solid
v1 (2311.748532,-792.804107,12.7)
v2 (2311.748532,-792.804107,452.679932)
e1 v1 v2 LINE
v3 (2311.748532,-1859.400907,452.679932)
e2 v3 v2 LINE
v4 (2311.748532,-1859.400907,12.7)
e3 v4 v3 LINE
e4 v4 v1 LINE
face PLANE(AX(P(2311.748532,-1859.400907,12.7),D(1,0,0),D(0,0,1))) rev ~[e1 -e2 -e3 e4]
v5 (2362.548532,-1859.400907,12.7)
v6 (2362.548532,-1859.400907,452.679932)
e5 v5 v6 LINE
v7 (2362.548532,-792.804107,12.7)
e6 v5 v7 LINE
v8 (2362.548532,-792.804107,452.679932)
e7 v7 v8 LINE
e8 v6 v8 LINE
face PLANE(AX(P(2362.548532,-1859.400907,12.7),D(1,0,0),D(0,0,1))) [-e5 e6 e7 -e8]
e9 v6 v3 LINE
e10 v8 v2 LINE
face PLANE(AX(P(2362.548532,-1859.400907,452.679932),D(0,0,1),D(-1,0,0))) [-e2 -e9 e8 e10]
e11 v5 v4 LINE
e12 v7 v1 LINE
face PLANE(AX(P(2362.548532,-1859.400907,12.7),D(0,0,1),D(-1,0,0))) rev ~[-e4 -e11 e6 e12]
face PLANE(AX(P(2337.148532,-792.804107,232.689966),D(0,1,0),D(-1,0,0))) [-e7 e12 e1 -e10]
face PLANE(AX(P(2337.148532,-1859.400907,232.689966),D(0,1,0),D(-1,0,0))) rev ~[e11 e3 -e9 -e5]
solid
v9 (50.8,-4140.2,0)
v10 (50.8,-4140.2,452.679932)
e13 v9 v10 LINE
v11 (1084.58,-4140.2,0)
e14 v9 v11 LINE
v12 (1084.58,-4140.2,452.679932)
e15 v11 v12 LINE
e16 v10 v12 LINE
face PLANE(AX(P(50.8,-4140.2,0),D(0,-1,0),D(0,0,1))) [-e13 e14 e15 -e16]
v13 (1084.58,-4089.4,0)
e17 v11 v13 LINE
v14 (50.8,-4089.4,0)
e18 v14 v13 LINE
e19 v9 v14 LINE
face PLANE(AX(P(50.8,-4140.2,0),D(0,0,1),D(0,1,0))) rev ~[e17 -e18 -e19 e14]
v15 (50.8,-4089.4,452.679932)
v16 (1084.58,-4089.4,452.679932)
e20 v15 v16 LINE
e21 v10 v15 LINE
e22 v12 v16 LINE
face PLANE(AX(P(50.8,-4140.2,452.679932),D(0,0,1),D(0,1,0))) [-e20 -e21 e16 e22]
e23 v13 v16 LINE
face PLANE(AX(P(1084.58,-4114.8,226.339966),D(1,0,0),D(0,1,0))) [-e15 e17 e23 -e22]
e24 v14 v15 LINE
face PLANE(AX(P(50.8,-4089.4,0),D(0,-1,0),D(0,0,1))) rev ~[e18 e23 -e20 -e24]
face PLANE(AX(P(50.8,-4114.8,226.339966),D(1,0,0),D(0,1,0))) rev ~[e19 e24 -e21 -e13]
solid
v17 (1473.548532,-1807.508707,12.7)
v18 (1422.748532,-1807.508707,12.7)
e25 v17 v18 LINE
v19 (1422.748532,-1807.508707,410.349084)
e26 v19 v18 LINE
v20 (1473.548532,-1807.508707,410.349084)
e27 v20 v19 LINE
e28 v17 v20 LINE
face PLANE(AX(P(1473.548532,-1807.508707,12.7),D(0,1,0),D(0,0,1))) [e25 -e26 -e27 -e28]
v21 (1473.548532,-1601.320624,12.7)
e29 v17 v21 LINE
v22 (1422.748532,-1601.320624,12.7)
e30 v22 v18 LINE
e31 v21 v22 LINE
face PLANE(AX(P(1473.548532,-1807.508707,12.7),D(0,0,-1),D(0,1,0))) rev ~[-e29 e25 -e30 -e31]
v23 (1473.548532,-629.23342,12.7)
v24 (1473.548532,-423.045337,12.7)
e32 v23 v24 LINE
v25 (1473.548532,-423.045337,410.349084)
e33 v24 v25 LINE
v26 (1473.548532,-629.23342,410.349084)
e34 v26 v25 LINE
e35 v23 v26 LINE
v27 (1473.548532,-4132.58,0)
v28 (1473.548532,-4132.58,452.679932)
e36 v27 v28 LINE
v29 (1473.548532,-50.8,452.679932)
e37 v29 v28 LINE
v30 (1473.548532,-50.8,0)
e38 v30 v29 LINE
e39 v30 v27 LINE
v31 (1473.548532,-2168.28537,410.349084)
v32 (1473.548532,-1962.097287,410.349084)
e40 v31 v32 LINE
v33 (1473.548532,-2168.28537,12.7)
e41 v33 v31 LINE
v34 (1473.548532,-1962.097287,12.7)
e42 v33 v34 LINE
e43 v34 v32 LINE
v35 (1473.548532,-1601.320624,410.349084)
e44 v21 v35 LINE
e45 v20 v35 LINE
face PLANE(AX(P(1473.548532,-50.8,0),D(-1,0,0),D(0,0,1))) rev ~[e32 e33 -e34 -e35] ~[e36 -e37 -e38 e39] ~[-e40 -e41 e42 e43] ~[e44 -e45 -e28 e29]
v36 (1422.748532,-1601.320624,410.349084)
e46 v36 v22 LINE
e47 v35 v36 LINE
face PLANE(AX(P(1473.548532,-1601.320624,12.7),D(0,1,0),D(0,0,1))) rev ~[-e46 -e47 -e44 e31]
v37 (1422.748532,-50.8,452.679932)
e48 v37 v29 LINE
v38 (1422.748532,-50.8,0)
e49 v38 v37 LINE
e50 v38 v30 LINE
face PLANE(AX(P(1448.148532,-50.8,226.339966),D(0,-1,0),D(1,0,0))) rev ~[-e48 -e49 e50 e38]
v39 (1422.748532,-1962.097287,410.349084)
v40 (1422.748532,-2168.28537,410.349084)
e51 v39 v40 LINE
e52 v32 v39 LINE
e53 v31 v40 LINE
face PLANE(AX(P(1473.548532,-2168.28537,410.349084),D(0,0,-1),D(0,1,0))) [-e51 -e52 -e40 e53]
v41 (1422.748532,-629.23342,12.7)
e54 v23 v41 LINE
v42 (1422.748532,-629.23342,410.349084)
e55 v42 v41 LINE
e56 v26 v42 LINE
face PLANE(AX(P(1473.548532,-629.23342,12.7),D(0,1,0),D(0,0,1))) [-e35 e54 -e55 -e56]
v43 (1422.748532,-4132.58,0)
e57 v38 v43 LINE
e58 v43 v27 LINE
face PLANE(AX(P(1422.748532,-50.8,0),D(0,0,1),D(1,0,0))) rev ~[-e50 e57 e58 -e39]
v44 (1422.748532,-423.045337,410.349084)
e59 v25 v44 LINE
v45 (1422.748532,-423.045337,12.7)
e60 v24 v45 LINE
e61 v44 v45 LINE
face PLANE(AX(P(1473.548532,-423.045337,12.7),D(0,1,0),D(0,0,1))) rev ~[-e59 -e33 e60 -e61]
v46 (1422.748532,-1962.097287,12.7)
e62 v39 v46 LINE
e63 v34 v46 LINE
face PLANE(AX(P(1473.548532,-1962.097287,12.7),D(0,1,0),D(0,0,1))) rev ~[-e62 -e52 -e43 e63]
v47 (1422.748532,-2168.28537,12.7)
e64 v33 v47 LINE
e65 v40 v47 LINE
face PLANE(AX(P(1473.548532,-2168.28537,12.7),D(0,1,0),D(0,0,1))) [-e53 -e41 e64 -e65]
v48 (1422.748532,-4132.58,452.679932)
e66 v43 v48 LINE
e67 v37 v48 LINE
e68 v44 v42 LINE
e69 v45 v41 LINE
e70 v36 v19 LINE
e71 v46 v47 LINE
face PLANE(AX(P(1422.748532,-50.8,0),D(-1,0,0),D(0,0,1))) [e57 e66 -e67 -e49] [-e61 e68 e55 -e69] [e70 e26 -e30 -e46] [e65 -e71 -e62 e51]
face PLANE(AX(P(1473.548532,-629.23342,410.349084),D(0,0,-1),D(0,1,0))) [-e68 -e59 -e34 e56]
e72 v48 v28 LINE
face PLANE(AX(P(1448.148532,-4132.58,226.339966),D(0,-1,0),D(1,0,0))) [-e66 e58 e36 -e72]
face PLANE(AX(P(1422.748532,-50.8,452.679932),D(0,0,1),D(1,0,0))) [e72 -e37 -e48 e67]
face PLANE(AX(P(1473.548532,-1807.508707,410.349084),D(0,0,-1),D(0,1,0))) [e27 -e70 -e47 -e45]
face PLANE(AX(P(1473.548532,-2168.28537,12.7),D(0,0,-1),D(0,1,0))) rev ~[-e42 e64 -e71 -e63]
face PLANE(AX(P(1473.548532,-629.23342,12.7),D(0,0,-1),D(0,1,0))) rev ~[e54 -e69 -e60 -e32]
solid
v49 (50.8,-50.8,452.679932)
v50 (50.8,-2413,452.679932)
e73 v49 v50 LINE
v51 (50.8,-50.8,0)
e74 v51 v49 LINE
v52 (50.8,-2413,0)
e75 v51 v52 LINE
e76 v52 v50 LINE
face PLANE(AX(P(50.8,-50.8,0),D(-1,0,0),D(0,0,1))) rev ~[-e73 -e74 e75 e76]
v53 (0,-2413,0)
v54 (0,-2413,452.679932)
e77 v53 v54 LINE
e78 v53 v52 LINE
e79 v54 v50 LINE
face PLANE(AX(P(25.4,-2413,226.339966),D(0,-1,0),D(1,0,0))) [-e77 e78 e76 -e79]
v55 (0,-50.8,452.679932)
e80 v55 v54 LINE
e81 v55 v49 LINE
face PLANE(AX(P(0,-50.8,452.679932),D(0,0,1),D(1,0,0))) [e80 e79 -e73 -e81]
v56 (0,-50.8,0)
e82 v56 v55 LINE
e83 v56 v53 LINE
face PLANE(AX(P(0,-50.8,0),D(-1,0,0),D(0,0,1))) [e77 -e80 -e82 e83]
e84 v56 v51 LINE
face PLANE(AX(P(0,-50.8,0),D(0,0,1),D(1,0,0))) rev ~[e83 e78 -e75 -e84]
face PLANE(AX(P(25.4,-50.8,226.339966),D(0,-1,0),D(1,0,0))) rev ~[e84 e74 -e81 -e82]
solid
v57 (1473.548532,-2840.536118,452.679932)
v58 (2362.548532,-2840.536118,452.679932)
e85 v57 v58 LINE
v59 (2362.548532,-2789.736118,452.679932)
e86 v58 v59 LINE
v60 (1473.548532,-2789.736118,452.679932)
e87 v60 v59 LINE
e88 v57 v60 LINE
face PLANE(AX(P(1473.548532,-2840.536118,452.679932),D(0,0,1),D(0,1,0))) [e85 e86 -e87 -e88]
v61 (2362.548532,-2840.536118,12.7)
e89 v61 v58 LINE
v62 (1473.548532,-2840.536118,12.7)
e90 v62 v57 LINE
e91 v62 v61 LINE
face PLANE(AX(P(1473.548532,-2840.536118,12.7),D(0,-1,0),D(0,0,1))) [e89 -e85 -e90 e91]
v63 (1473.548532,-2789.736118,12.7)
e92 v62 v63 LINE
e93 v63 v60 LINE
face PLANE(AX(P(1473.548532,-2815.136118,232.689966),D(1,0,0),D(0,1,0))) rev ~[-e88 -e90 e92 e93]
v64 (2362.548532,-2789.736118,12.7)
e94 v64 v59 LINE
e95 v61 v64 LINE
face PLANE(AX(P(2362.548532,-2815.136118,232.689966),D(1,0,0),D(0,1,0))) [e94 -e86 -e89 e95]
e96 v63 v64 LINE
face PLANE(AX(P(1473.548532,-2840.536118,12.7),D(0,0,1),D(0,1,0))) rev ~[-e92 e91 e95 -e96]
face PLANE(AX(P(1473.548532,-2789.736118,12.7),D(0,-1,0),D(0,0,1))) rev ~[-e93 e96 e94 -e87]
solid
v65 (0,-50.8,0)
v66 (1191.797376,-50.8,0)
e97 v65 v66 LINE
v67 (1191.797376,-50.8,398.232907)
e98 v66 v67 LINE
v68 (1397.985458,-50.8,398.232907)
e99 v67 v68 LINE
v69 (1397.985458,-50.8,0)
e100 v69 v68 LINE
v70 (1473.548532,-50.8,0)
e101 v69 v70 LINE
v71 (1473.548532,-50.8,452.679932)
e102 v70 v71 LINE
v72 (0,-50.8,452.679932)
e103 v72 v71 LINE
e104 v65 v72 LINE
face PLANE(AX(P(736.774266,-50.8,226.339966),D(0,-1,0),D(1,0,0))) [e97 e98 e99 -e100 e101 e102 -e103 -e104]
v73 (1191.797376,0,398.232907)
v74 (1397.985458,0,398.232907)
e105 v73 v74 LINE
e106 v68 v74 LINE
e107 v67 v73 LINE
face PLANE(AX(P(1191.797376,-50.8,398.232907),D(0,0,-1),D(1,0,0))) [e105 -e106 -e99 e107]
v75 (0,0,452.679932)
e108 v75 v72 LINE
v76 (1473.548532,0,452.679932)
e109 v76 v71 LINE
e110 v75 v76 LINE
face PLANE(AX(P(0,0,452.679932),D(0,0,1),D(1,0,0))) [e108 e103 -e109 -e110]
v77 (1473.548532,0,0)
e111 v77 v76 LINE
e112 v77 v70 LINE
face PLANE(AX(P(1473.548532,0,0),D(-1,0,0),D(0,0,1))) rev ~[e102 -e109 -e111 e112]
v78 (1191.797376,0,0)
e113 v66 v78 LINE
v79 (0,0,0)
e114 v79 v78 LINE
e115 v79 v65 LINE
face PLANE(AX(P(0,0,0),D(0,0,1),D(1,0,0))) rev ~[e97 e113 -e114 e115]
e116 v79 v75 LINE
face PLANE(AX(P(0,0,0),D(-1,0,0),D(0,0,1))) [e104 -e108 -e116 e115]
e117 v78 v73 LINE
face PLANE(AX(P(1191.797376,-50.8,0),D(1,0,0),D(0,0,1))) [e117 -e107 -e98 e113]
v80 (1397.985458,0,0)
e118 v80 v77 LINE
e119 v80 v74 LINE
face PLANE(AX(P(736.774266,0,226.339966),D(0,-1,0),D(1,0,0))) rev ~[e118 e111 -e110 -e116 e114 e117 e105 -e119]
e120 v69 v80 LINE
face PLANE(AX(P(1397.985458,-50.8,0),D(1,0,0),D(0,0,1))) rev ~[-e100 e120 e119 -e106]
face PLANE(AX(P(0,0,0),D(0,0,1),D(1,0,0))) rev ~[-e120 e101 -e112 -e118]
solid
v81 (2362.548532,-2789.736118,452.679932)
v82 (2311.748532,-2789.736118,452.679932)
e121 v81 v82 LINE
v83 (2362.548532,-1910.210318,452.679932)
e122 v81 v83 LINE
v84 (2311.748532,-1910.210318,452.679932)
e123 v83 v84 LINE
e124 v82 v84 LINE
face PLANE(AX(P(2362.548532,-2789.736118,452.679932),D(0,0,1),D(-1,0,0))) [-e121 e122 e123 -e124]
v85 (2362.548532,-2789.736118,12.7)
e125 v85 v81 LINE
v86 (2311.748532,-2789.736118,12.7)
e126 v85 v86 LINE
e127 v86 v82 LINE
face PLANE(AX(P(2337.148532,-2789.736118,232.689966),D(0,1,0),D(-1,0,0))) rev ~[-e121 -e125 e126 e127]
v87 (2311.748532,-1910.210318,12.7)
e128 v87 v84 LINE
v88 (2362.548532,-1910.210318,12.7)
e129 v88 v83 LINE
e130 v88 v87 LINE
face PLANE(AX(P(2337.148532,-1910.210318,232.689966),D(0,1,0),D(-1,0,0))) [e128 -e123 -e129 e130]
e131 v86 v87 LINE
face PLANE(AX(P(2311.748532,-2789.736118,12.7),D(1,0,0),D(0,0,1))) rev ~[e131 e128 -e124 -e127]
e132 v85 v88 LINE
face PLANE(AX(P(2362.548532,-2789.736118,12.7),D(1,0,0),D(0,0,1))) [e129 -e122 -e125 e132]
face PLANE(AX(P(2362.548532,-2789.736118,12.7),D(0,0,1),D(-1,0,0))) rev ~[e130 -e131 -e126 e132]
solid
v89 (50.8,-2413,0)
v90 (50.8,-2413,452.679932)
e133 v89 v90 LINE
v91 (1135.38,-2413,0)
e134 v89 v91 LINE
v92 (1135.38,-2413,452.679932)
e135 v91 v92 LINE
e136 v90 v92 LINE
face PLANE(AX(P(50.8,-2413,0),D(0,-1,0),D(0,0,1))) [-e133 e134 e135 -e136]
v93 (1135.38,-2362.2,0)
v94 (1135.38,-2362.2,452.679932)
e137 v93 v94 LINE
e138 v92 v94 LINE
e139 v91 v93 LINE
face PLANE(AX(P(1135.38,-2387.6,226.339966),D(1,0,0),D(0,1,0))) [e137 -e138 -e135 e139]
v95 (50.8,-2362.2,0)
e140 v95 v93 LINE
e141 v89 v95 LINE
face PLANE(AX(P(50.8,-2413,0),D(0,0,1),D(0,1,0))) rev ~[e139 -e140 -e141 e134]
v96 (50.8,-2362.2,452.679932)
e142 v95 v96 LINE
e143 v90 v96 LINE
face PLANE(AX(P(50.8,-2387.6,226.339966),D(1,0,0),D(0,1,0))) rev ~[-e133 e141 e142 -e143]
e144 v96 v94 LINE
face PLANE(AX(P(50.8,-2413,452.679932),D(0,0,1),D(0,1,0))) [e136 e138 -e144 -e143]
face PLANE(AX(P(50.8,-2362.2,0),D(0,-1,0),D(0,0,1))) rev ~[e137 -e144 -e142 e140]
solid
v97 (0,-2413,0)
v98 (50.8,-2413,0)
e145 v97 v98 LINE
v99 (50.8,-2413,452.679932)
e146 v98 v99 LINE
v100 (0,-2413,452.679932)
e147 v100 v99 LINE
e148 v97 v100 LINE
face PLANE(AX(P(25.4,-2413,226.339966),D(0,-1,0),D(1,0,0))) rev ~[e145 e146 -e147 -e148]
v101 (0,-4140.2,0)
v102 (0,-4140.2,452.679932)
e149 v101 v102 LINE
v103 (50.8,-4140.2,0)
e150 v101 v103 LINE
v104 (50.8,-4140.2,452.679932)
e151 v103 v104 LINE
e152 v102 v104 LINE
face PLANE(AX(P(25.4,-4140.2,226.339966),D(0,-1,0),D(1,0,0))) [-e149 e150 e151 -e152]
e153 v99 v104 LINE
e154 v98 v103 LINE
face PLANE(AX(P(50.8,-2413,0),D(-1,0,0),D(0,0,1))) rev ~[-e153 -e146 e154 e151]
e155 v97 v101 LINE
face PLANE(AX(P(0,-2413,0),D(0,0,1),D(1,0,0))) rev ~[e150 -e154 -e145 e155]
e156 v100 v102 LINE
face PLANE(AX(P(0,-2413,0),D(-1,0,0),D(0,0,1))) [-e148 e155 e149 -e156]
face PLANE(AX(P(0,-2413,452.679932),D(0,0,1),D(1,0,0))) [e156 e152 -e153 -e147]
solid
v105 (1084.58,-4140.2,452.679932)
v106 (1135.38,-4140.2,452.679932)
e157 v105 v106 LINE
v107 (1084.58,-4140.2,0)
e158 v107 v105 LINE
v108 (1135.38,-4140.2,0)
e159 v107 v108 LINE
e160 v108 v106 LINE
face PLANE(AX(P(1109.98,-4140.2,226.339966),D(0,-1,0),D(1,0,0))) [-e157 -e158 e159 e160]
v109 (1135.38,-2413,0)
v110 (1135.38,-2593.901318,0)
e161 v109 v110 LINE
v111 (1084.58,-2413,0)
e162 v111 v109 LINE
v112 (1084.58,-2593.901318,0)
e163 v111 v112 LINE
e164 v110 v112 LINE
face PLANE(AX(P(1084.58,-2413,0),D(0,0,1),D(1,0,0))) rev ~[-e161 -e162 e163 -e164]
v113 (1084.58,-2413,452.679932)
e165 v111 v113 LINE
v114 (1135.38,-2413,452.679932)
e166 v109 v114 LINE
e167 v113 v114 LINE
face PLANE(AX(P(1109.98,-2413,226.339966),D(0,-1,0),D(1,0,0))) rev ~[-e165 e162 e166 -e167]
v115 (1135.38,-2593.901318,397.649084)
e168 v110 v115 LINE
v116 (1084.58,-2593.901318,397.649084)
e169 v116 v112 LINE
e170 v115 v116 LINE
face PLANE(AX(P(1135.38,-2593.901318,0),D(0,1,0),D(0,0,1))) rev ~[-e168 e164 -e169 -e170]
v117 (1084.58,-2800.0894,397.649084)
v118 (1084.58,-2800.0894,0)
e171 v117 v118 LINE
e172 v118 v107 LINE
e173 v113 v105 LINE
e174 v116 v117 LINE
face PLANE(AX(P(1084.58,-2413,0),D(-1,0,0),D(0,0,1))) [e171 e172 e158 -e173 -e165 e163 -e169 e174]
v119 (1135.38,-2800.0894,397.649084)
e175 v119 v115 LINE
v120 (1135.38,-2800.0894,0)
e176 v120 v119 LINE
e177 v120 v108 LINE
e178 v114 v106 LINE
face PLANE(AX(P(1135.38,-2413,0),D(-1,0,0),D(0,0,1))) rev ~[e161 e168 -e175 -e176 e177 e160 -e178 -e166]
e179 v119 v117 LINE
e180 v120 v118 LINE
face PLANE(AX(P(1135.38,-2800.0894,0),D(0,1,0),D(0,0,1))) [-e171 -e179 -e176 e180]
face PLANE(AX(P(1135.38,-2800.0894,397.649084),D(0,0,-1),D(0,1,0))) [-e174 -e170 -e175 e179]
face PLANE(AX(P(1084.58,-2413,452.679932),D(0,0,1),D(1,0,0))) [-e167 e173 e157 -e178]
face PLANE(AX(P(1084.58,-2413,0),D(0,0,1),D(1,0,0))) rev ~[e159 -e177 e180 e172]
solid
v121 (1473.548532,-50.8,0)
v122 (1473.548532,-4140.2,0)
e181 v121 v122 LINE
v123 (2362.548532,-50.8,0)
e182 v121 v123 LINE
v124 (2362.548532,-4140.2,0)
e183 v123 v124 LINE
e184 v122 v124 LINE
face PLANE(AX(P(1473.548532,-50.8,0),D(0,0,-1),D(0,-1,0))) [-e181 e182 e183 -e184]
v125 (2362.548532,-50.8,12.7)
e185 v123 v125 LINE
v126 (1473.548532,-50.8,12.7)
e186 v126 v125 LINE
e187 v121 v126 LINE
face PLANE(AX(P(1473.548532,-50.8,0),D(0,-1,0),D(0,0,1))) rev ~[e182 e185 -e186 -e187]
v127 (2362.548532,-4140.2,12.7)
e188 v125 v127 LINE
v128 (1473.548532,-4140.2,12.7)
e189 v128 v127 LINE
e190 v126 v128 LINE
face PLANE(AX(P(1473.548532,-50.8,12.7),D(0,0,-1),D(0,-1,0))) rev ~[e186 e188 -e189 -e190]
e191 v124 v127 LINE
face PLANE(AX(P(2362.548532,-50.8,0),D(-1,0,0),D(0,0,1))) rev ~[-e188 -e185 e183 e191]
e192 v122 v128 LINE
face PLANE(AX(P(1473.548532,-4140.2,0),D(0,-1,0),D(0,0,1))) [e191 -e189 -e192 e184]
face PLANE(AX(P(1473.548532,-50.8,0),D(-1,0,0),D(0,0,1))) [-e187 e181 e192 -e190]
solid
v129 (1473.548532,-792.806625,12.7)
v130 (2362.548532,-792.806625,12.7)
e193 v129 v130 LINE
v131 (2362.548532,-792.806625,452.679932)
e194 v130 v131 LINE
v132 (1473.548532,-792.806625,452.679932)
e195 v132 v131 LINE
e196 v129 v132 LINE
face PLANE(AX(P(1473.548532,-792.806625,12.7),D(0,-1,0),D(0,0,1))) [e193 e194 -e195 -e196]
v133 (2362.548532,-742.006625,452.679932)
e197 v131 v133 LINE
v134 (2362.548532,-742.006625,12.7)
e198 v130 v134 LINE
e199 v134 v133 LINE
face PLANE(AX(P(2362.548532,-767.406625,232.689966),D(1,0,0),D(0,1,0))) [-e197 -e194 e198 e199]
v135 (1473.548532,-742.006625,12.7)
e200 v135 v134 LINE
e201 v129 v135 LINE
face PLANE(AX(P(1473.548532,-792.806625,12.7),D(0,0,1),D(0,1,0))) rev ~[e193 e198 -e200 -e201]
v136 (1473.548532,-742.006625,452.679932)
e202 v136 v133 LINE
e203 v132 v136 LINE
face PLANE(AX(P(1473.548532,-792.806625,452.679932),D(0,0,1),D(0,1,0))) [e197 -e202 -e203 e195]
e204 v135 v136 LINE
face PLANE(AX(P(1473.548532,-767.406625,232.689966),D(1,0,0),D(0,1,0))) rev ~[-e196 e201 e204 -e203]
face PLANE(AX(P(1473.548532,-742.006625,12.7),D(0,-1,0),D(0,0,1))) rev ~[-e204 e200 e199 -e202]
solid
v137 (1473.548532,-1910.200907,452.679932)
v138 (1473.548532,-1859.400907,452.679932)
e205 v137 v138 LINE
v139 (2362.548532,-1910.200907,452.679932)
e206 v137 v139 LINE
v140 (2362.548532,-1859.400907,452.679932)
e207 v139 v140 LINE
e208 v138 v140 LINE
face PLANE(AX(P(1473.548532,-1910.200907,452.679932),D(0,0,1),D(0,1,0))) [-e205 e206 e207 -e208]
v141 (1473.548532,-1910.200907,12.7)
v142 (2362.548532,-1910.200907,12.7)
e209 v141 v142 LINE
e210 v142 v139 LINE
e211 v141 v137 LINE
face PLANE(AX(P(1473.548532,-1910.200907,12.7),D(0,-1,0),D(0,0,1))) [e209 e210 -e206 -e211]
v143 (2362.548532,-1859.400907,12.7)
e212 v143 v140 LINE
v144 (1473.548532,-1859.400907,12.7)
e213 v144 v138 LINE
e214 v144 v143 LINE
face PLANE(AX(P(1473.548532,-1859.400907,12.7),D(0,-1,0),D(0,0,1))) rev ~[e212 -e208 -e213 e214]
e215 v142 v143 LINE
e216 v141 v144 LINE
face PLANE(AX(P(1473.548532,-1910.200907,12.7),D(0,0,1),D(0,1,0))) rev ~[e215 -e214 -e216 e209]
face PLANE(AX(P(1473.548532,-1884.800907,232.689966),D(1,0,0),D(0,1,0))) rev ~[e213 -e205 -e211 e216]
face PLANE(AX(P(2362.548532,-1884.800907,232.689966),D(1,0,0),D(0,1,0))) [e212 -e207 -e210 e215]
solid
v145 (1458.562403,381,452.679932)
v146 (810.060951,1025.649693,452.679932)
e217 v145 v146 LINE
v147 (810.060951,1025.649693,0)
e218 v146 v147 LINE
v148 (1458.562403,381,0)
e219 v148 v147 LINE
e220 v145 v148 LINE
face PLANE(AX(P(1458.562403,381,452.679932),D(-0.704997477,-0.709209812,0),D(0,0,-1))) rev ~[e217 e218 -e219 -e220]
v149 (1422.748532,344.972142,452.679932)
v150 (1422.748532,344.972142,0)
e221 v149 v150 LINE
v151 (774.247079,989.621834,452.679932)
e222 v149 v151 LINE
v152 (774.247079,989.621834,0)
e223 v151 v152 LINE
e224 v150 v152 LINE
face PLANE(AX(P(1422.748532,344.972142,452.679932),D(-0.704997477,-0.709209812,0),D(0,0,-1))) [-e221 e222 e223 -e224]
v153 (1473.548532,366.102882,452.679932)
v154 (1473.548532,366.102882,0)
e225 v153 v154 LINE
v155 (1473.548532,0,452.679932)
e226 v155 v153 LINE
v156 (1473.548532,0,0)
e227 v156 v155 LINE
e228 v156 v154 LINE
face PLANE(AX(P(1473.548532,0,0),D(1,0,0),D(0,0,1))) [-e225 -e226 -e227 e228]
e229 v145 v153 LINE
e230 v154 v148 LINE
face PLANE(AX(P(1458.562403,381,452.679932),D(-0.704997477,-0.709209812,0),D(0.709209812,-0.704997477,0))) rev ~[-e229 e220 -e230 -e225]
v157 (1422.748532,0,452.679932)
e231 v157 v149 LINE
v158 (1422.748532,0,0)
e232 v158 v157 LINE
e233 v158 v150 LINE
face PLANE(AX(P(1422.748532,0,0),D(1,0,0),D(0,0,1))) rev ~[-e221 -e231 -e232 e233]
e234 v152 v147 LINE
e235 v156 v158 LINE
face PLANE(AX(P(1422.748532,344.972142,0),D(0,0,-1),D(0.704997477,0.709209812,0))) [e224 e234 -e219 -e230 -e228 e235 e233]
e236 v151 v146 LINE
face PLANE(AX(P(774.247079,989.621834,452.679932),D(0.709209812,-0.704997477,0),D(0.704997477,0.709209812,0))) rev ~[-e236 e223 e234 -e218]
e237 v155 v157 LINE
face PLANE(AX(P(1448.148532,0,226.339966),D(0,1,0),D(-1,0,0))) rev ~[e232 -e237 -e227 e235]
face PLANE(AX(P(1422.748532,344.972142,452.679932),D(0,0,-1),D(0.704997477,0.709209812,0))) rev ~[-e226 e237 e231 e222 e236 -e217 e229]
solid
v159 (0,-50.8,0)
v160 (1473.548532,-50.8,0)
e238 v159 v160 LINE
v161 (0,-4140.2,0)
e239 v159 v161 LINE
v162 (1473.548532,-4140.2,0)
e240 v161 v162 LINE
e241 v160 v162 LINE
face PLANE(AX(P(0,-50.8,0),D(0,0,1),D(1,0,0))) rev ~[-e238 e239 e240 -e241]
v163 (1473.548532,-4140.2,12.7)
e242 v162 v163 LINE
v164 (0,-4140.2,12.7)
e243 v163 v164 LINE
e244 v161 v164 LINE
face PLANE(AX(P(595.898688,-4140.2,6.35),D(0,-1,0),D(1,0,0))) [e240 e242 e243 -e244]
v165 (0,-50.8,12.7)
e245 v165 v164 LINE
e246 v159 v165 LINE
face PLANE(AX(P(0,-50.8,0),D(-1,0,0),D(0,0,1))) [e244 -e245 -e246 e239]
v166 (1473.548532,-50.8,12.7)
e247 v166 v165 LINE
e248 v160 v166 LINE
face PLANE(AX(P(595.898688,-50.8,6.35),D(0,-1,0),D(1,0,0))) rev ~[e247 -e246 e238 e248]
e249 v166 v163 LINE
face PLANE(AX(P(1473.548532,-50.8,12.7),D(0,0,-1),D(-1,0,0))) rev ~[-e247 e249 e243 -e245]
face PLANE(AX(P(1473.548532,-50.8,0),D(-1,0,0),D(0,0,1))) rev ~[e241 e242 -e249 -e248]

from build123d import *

# Parameters (mm, degrees)
F0_W      = 1473.5485315323
F0_H      = 452.6799321175
F1_DEPTH  = 50.8
F2_W      = 206.188082695
F2_H      = 398.2329070568
F3_DEPTH  = 71.12
F4_W      = 50.8
F4_H      = 452.6799321175
F5_DEPTH  = 2362.2
F6_W      = 50.8
F6_H      = 452.6799321175
F7_DEPTH  = 1084.58
F8_W      = 50.8
F8_H      = 452.6799321175
F9_DEPTH  = 1727.2
F10_W     = 206.188082695
F10_H     = 397.6490842178
F11_DEPTH = 111.76
F12_W     = 1191.797375679
F12_H     = 12.7
F12_W_2   = 206.188082695
F12_W_3   = 75.5630731583
F13_DEPTH = 4089.4
F14_DEPTH = 1727.2
F15_W     = 50.8
F15_H     = 452.6799321175
F16_DEPTH = 1033.78
F17_W     = 50.8
F17_H     = 452.6799321175
F18_DEPTH = 4081.78
F19_W     = 206.188082695
F19_H     = 397.6490842178
F20_DEPTH = 314.96
F21_W     = 50.8
F21_H     = 439.9799321175
F22_DEPTH = 889
F23_W     = 50.8
F23_H     = 439.9799321175
F24_DEPTH = 889
F25_W     = 50.8
F25_H     = 439.9799321175
F26_DEPTH = 879.5258
F27_W     = 50.8
F27_H     = 439.9799321175
F28_DEPTH = 889
F29_W     = 50.8
F29_H     = 439.9799321175
F30_DEPTH = 1066.5968
F31_DEPTH = 889
F32_W     = 50.8
F32_H     = 452.6799321175
F33_DEPTH = 381
F35_DEPTH = 505.46
F36_DEPTH = 914.4
F38_DEPTH = 546.1


with BuildPart() as f1:
    # F0 (on Front) → F1 (new body)
    with BuildSketch(Plane.XZ):
        with Locations((736.7742657661, 226.3399660587)):
            Rectangle(F0_W, F0_H)
    extrude(amount=F1_DEPTH)

    # F2 (on face) → F3 (cut)
    with BuildSketch(Plane.XZ.offset(50.8)):
        with Locations((1294.8914170265, 199.1164535284)):
            Rectangle(F2_W, F2_H)
    extrude(amount=-F3_DEPTH, mode=Mode.SUBTRACT)


with BuildPart() as f5:
    # F4 (on face) → F5 (new body)
    with BuildSketch(Plane.XZ.offset(50.8)):
        with Locations((25.4, 226.3399660587)):
            Rectangle(F4_W, F4_H)
    extrude(amount=F5_DEPTH)


with BuildPart() as f7:
    # F6 (on face) → F7 (new body)
    with BuildSketch(Plane.YZ.offset(50.8)):
        with Locations((-2387.6, 226.3399660587)):
            Rectangle(F6_W, F6_H)
    extrude(amount=F7_DEPTH)


with BuildPart() as f9:
    # F8 (on face) → F9 (new body)
    with BuildSketch(Plane.XZ.offset(2413)):
        with Locations((1109.98, 226.3399660587)):
            Rectangle(F8_W, F8_H)
    extrude(amount=F9_DEPTH)

    # F10 (on face) → F11 (cut)
    with BuildSketch(Plane.YZ.offset(1135.38)):
        with Locations((-2696.995358963, 198.8245421089)):
            Rectangle(F10_W, F10_H)
    extrude(amount=-F11_DEPTH, mode=Mode.SUBTRACT)


with BuildPart() as f13:
    # F12 (on face) → F13 (new body)
    with BuildSketch(Plane.XZ.offset(50.8)):
        with Locations((595.8986878395, 6.35)):
            Rectangle(F12_W, F12_H)
        with Locations((1294.8914170265, 6.35)):
            Rectangle(F12_W_2, F12_H)
        with Locations((1435.7669949532, 6.35)):
            Rectangle(F12_W_3, F12_H)
    extrude(amount=F13_DEPTH)


with BuildPart() as f14:
    # F14 (new): a face of the model
    f14_faces = [f5.part.faces().sort_by_distance(p)[0] for p in [
        (25.4, -2413, 226.3399660587),
    ]]
    extrude(f14_faces, amount=F14_DEPTH)


with BuildPart() as f16:
    # F15 (on face) → F16 (new body)
    with BuildSketch(Plane.YZ.offset(50.8)):
        with Locations((-4114.8, 226.3399660587)):
            Rectangle(F15_W, F15_H)
    extrude(amount=F16_DEPTH)


with BuildPart() as f18:
    # F17 (on face) → F18 (new body)
    with BuildSketch(Plane.XZ.offset(50.8)):
        with Locations((1448.1485315323, 226.3399660587)):
            Rectangle(F17_W, F17_H)
    extrude(amount=F18_DEPTH)

    # F19 (on face) → F20 (cut)
    with BuildSketch(Plane.YZ.offset(1473.5485315323)):
        with Locations((-2065.1913285255, 211.5245419554)):
            Rectangle(F19_W, F19_H)
        with Locations((-1704.414665699, 211.5245419554)):
            Rectangle(F19_W, F19_H)
        with Locations((-526.1393785477, 211.5245421089)):
            Rectangle(F19_W, F19_H)
    extrude(amount=-F20_DEPTH, mode=Mode.SUBTRACT)


with BuildPart() as f22:
    # F21 (on face) → F22 (new body)
    with BuildSketch(Plane.YZ.offset(1473.5485315323)):
        with Locations((-1884.8009070465, 232.6899660587)):
            Rectangle(F21_W, F21_H)
    extrude(amount=F22_DEPTH)


with BuildPart() as f24:
    # F23 (on face) → F24 (new body)
    with BuildSketch(Plane.YZ.offset(1473.5485315323)):
        with Locations((-2815.1361175537, 232.6899660587)):
            Rectangle(F23_W, F23_H)
    extrude(amount=F24_DEPTH)


with BuildPart() as f26:
    # F25 (on face) → F26 (new body)
    with BuildSketch(Plane(origin=(0, -2789.7361175537, 0), x_dir=(-1, 0, 0), z_dir=(0, 1, 0))):
        with Locations((-2337.1485315323, 232.6899660587)):
            Rectangle(F25_W, F25_H)
    extrude(amount=F26_DEPTH)


with BuildPart() as f28:
    # F27 (on face) → F28 (new body)
    with BuildSketch(Plane.YZ.offset(1473.5485315323)):
        with Locations((-767.4066253662, 232.6899660587)):
            Rectangle(F27_W, F27_H)
    extrude(amount=F28_DEPTH)


with BuildPart() as f30:
    # F29 (on face) → F30 (new body)
    with BuildSketch(Plane(origin=(0, -1859.4009070465, 0), x_dir=(-1, 0, 0), z_dir=(0, 1, 0))):
        with Locations((-2337.1485315323, 232.6899660587)):
            Rectangle(F29_W, F29_H)
    extrude(amount=F30_DEPTH)


with BuildPart() as f31:
    # F31 (new): a face of the model
    f31_faces = [f13.part.faces().sort_by_distance(p)[0] for p in [
        (1473.5485315323, -2095.5, 6.35),
    ]]
    extrude(f31_faces, amount=F31_DEPTH)


with BuildPart() as f33:
    # F32 (on face) → F33 (new body)
    with BuildSketch(Plane(origin=(0, 0, 0), x_dir=(-1, 0, 0), z_dir=(0, 1, 0))):
        with Locations((-1448.1485315323, 226.3399660587)):
            Rectangle(F32_W, F32_H)
    extrude(amount=F33_DEPTH)

    # F34 (on face) → F35 (cut)
    with BuildSketch(Plane.XY.offset(452.6799321175)):
        Polygon((1458.5624033598, 381), (1422.7485315323, 381), (1422.7485315323, 344.9721415468), align=None)
    extrude(amount=-F35_DEPTH, mode=Mode.SUBTRACT)

    # F36 (add): a face of the model
    f36_faces = [f33.faces().sort_by_distance(p)[0] for p in [
        (1440.655467446, 362.9860707734, 226.3399660587),
    ]]
    extrude(f36_faces, amount=F36_DEPTH)

    # F37 (on face) → F38 (cut)
    with BuildSketch(Plane.XY.offset(452.6799321175)):
        Polygon((1473.5485315323, 381), (1458.5624033598, 381), (1473.5485315323, 366.1028815865), align=None)
    extrude(amount=-F38_DEPTH, mode=Mode.SUBTRACT)


solid = Compound([f1.part, f5.part, f7.part, f9.part, f13.part, f14.part, f16.part, f18.part, f22.part, f24.part, f26.part, f28.part, f30.part, f31.part, f33.part])
